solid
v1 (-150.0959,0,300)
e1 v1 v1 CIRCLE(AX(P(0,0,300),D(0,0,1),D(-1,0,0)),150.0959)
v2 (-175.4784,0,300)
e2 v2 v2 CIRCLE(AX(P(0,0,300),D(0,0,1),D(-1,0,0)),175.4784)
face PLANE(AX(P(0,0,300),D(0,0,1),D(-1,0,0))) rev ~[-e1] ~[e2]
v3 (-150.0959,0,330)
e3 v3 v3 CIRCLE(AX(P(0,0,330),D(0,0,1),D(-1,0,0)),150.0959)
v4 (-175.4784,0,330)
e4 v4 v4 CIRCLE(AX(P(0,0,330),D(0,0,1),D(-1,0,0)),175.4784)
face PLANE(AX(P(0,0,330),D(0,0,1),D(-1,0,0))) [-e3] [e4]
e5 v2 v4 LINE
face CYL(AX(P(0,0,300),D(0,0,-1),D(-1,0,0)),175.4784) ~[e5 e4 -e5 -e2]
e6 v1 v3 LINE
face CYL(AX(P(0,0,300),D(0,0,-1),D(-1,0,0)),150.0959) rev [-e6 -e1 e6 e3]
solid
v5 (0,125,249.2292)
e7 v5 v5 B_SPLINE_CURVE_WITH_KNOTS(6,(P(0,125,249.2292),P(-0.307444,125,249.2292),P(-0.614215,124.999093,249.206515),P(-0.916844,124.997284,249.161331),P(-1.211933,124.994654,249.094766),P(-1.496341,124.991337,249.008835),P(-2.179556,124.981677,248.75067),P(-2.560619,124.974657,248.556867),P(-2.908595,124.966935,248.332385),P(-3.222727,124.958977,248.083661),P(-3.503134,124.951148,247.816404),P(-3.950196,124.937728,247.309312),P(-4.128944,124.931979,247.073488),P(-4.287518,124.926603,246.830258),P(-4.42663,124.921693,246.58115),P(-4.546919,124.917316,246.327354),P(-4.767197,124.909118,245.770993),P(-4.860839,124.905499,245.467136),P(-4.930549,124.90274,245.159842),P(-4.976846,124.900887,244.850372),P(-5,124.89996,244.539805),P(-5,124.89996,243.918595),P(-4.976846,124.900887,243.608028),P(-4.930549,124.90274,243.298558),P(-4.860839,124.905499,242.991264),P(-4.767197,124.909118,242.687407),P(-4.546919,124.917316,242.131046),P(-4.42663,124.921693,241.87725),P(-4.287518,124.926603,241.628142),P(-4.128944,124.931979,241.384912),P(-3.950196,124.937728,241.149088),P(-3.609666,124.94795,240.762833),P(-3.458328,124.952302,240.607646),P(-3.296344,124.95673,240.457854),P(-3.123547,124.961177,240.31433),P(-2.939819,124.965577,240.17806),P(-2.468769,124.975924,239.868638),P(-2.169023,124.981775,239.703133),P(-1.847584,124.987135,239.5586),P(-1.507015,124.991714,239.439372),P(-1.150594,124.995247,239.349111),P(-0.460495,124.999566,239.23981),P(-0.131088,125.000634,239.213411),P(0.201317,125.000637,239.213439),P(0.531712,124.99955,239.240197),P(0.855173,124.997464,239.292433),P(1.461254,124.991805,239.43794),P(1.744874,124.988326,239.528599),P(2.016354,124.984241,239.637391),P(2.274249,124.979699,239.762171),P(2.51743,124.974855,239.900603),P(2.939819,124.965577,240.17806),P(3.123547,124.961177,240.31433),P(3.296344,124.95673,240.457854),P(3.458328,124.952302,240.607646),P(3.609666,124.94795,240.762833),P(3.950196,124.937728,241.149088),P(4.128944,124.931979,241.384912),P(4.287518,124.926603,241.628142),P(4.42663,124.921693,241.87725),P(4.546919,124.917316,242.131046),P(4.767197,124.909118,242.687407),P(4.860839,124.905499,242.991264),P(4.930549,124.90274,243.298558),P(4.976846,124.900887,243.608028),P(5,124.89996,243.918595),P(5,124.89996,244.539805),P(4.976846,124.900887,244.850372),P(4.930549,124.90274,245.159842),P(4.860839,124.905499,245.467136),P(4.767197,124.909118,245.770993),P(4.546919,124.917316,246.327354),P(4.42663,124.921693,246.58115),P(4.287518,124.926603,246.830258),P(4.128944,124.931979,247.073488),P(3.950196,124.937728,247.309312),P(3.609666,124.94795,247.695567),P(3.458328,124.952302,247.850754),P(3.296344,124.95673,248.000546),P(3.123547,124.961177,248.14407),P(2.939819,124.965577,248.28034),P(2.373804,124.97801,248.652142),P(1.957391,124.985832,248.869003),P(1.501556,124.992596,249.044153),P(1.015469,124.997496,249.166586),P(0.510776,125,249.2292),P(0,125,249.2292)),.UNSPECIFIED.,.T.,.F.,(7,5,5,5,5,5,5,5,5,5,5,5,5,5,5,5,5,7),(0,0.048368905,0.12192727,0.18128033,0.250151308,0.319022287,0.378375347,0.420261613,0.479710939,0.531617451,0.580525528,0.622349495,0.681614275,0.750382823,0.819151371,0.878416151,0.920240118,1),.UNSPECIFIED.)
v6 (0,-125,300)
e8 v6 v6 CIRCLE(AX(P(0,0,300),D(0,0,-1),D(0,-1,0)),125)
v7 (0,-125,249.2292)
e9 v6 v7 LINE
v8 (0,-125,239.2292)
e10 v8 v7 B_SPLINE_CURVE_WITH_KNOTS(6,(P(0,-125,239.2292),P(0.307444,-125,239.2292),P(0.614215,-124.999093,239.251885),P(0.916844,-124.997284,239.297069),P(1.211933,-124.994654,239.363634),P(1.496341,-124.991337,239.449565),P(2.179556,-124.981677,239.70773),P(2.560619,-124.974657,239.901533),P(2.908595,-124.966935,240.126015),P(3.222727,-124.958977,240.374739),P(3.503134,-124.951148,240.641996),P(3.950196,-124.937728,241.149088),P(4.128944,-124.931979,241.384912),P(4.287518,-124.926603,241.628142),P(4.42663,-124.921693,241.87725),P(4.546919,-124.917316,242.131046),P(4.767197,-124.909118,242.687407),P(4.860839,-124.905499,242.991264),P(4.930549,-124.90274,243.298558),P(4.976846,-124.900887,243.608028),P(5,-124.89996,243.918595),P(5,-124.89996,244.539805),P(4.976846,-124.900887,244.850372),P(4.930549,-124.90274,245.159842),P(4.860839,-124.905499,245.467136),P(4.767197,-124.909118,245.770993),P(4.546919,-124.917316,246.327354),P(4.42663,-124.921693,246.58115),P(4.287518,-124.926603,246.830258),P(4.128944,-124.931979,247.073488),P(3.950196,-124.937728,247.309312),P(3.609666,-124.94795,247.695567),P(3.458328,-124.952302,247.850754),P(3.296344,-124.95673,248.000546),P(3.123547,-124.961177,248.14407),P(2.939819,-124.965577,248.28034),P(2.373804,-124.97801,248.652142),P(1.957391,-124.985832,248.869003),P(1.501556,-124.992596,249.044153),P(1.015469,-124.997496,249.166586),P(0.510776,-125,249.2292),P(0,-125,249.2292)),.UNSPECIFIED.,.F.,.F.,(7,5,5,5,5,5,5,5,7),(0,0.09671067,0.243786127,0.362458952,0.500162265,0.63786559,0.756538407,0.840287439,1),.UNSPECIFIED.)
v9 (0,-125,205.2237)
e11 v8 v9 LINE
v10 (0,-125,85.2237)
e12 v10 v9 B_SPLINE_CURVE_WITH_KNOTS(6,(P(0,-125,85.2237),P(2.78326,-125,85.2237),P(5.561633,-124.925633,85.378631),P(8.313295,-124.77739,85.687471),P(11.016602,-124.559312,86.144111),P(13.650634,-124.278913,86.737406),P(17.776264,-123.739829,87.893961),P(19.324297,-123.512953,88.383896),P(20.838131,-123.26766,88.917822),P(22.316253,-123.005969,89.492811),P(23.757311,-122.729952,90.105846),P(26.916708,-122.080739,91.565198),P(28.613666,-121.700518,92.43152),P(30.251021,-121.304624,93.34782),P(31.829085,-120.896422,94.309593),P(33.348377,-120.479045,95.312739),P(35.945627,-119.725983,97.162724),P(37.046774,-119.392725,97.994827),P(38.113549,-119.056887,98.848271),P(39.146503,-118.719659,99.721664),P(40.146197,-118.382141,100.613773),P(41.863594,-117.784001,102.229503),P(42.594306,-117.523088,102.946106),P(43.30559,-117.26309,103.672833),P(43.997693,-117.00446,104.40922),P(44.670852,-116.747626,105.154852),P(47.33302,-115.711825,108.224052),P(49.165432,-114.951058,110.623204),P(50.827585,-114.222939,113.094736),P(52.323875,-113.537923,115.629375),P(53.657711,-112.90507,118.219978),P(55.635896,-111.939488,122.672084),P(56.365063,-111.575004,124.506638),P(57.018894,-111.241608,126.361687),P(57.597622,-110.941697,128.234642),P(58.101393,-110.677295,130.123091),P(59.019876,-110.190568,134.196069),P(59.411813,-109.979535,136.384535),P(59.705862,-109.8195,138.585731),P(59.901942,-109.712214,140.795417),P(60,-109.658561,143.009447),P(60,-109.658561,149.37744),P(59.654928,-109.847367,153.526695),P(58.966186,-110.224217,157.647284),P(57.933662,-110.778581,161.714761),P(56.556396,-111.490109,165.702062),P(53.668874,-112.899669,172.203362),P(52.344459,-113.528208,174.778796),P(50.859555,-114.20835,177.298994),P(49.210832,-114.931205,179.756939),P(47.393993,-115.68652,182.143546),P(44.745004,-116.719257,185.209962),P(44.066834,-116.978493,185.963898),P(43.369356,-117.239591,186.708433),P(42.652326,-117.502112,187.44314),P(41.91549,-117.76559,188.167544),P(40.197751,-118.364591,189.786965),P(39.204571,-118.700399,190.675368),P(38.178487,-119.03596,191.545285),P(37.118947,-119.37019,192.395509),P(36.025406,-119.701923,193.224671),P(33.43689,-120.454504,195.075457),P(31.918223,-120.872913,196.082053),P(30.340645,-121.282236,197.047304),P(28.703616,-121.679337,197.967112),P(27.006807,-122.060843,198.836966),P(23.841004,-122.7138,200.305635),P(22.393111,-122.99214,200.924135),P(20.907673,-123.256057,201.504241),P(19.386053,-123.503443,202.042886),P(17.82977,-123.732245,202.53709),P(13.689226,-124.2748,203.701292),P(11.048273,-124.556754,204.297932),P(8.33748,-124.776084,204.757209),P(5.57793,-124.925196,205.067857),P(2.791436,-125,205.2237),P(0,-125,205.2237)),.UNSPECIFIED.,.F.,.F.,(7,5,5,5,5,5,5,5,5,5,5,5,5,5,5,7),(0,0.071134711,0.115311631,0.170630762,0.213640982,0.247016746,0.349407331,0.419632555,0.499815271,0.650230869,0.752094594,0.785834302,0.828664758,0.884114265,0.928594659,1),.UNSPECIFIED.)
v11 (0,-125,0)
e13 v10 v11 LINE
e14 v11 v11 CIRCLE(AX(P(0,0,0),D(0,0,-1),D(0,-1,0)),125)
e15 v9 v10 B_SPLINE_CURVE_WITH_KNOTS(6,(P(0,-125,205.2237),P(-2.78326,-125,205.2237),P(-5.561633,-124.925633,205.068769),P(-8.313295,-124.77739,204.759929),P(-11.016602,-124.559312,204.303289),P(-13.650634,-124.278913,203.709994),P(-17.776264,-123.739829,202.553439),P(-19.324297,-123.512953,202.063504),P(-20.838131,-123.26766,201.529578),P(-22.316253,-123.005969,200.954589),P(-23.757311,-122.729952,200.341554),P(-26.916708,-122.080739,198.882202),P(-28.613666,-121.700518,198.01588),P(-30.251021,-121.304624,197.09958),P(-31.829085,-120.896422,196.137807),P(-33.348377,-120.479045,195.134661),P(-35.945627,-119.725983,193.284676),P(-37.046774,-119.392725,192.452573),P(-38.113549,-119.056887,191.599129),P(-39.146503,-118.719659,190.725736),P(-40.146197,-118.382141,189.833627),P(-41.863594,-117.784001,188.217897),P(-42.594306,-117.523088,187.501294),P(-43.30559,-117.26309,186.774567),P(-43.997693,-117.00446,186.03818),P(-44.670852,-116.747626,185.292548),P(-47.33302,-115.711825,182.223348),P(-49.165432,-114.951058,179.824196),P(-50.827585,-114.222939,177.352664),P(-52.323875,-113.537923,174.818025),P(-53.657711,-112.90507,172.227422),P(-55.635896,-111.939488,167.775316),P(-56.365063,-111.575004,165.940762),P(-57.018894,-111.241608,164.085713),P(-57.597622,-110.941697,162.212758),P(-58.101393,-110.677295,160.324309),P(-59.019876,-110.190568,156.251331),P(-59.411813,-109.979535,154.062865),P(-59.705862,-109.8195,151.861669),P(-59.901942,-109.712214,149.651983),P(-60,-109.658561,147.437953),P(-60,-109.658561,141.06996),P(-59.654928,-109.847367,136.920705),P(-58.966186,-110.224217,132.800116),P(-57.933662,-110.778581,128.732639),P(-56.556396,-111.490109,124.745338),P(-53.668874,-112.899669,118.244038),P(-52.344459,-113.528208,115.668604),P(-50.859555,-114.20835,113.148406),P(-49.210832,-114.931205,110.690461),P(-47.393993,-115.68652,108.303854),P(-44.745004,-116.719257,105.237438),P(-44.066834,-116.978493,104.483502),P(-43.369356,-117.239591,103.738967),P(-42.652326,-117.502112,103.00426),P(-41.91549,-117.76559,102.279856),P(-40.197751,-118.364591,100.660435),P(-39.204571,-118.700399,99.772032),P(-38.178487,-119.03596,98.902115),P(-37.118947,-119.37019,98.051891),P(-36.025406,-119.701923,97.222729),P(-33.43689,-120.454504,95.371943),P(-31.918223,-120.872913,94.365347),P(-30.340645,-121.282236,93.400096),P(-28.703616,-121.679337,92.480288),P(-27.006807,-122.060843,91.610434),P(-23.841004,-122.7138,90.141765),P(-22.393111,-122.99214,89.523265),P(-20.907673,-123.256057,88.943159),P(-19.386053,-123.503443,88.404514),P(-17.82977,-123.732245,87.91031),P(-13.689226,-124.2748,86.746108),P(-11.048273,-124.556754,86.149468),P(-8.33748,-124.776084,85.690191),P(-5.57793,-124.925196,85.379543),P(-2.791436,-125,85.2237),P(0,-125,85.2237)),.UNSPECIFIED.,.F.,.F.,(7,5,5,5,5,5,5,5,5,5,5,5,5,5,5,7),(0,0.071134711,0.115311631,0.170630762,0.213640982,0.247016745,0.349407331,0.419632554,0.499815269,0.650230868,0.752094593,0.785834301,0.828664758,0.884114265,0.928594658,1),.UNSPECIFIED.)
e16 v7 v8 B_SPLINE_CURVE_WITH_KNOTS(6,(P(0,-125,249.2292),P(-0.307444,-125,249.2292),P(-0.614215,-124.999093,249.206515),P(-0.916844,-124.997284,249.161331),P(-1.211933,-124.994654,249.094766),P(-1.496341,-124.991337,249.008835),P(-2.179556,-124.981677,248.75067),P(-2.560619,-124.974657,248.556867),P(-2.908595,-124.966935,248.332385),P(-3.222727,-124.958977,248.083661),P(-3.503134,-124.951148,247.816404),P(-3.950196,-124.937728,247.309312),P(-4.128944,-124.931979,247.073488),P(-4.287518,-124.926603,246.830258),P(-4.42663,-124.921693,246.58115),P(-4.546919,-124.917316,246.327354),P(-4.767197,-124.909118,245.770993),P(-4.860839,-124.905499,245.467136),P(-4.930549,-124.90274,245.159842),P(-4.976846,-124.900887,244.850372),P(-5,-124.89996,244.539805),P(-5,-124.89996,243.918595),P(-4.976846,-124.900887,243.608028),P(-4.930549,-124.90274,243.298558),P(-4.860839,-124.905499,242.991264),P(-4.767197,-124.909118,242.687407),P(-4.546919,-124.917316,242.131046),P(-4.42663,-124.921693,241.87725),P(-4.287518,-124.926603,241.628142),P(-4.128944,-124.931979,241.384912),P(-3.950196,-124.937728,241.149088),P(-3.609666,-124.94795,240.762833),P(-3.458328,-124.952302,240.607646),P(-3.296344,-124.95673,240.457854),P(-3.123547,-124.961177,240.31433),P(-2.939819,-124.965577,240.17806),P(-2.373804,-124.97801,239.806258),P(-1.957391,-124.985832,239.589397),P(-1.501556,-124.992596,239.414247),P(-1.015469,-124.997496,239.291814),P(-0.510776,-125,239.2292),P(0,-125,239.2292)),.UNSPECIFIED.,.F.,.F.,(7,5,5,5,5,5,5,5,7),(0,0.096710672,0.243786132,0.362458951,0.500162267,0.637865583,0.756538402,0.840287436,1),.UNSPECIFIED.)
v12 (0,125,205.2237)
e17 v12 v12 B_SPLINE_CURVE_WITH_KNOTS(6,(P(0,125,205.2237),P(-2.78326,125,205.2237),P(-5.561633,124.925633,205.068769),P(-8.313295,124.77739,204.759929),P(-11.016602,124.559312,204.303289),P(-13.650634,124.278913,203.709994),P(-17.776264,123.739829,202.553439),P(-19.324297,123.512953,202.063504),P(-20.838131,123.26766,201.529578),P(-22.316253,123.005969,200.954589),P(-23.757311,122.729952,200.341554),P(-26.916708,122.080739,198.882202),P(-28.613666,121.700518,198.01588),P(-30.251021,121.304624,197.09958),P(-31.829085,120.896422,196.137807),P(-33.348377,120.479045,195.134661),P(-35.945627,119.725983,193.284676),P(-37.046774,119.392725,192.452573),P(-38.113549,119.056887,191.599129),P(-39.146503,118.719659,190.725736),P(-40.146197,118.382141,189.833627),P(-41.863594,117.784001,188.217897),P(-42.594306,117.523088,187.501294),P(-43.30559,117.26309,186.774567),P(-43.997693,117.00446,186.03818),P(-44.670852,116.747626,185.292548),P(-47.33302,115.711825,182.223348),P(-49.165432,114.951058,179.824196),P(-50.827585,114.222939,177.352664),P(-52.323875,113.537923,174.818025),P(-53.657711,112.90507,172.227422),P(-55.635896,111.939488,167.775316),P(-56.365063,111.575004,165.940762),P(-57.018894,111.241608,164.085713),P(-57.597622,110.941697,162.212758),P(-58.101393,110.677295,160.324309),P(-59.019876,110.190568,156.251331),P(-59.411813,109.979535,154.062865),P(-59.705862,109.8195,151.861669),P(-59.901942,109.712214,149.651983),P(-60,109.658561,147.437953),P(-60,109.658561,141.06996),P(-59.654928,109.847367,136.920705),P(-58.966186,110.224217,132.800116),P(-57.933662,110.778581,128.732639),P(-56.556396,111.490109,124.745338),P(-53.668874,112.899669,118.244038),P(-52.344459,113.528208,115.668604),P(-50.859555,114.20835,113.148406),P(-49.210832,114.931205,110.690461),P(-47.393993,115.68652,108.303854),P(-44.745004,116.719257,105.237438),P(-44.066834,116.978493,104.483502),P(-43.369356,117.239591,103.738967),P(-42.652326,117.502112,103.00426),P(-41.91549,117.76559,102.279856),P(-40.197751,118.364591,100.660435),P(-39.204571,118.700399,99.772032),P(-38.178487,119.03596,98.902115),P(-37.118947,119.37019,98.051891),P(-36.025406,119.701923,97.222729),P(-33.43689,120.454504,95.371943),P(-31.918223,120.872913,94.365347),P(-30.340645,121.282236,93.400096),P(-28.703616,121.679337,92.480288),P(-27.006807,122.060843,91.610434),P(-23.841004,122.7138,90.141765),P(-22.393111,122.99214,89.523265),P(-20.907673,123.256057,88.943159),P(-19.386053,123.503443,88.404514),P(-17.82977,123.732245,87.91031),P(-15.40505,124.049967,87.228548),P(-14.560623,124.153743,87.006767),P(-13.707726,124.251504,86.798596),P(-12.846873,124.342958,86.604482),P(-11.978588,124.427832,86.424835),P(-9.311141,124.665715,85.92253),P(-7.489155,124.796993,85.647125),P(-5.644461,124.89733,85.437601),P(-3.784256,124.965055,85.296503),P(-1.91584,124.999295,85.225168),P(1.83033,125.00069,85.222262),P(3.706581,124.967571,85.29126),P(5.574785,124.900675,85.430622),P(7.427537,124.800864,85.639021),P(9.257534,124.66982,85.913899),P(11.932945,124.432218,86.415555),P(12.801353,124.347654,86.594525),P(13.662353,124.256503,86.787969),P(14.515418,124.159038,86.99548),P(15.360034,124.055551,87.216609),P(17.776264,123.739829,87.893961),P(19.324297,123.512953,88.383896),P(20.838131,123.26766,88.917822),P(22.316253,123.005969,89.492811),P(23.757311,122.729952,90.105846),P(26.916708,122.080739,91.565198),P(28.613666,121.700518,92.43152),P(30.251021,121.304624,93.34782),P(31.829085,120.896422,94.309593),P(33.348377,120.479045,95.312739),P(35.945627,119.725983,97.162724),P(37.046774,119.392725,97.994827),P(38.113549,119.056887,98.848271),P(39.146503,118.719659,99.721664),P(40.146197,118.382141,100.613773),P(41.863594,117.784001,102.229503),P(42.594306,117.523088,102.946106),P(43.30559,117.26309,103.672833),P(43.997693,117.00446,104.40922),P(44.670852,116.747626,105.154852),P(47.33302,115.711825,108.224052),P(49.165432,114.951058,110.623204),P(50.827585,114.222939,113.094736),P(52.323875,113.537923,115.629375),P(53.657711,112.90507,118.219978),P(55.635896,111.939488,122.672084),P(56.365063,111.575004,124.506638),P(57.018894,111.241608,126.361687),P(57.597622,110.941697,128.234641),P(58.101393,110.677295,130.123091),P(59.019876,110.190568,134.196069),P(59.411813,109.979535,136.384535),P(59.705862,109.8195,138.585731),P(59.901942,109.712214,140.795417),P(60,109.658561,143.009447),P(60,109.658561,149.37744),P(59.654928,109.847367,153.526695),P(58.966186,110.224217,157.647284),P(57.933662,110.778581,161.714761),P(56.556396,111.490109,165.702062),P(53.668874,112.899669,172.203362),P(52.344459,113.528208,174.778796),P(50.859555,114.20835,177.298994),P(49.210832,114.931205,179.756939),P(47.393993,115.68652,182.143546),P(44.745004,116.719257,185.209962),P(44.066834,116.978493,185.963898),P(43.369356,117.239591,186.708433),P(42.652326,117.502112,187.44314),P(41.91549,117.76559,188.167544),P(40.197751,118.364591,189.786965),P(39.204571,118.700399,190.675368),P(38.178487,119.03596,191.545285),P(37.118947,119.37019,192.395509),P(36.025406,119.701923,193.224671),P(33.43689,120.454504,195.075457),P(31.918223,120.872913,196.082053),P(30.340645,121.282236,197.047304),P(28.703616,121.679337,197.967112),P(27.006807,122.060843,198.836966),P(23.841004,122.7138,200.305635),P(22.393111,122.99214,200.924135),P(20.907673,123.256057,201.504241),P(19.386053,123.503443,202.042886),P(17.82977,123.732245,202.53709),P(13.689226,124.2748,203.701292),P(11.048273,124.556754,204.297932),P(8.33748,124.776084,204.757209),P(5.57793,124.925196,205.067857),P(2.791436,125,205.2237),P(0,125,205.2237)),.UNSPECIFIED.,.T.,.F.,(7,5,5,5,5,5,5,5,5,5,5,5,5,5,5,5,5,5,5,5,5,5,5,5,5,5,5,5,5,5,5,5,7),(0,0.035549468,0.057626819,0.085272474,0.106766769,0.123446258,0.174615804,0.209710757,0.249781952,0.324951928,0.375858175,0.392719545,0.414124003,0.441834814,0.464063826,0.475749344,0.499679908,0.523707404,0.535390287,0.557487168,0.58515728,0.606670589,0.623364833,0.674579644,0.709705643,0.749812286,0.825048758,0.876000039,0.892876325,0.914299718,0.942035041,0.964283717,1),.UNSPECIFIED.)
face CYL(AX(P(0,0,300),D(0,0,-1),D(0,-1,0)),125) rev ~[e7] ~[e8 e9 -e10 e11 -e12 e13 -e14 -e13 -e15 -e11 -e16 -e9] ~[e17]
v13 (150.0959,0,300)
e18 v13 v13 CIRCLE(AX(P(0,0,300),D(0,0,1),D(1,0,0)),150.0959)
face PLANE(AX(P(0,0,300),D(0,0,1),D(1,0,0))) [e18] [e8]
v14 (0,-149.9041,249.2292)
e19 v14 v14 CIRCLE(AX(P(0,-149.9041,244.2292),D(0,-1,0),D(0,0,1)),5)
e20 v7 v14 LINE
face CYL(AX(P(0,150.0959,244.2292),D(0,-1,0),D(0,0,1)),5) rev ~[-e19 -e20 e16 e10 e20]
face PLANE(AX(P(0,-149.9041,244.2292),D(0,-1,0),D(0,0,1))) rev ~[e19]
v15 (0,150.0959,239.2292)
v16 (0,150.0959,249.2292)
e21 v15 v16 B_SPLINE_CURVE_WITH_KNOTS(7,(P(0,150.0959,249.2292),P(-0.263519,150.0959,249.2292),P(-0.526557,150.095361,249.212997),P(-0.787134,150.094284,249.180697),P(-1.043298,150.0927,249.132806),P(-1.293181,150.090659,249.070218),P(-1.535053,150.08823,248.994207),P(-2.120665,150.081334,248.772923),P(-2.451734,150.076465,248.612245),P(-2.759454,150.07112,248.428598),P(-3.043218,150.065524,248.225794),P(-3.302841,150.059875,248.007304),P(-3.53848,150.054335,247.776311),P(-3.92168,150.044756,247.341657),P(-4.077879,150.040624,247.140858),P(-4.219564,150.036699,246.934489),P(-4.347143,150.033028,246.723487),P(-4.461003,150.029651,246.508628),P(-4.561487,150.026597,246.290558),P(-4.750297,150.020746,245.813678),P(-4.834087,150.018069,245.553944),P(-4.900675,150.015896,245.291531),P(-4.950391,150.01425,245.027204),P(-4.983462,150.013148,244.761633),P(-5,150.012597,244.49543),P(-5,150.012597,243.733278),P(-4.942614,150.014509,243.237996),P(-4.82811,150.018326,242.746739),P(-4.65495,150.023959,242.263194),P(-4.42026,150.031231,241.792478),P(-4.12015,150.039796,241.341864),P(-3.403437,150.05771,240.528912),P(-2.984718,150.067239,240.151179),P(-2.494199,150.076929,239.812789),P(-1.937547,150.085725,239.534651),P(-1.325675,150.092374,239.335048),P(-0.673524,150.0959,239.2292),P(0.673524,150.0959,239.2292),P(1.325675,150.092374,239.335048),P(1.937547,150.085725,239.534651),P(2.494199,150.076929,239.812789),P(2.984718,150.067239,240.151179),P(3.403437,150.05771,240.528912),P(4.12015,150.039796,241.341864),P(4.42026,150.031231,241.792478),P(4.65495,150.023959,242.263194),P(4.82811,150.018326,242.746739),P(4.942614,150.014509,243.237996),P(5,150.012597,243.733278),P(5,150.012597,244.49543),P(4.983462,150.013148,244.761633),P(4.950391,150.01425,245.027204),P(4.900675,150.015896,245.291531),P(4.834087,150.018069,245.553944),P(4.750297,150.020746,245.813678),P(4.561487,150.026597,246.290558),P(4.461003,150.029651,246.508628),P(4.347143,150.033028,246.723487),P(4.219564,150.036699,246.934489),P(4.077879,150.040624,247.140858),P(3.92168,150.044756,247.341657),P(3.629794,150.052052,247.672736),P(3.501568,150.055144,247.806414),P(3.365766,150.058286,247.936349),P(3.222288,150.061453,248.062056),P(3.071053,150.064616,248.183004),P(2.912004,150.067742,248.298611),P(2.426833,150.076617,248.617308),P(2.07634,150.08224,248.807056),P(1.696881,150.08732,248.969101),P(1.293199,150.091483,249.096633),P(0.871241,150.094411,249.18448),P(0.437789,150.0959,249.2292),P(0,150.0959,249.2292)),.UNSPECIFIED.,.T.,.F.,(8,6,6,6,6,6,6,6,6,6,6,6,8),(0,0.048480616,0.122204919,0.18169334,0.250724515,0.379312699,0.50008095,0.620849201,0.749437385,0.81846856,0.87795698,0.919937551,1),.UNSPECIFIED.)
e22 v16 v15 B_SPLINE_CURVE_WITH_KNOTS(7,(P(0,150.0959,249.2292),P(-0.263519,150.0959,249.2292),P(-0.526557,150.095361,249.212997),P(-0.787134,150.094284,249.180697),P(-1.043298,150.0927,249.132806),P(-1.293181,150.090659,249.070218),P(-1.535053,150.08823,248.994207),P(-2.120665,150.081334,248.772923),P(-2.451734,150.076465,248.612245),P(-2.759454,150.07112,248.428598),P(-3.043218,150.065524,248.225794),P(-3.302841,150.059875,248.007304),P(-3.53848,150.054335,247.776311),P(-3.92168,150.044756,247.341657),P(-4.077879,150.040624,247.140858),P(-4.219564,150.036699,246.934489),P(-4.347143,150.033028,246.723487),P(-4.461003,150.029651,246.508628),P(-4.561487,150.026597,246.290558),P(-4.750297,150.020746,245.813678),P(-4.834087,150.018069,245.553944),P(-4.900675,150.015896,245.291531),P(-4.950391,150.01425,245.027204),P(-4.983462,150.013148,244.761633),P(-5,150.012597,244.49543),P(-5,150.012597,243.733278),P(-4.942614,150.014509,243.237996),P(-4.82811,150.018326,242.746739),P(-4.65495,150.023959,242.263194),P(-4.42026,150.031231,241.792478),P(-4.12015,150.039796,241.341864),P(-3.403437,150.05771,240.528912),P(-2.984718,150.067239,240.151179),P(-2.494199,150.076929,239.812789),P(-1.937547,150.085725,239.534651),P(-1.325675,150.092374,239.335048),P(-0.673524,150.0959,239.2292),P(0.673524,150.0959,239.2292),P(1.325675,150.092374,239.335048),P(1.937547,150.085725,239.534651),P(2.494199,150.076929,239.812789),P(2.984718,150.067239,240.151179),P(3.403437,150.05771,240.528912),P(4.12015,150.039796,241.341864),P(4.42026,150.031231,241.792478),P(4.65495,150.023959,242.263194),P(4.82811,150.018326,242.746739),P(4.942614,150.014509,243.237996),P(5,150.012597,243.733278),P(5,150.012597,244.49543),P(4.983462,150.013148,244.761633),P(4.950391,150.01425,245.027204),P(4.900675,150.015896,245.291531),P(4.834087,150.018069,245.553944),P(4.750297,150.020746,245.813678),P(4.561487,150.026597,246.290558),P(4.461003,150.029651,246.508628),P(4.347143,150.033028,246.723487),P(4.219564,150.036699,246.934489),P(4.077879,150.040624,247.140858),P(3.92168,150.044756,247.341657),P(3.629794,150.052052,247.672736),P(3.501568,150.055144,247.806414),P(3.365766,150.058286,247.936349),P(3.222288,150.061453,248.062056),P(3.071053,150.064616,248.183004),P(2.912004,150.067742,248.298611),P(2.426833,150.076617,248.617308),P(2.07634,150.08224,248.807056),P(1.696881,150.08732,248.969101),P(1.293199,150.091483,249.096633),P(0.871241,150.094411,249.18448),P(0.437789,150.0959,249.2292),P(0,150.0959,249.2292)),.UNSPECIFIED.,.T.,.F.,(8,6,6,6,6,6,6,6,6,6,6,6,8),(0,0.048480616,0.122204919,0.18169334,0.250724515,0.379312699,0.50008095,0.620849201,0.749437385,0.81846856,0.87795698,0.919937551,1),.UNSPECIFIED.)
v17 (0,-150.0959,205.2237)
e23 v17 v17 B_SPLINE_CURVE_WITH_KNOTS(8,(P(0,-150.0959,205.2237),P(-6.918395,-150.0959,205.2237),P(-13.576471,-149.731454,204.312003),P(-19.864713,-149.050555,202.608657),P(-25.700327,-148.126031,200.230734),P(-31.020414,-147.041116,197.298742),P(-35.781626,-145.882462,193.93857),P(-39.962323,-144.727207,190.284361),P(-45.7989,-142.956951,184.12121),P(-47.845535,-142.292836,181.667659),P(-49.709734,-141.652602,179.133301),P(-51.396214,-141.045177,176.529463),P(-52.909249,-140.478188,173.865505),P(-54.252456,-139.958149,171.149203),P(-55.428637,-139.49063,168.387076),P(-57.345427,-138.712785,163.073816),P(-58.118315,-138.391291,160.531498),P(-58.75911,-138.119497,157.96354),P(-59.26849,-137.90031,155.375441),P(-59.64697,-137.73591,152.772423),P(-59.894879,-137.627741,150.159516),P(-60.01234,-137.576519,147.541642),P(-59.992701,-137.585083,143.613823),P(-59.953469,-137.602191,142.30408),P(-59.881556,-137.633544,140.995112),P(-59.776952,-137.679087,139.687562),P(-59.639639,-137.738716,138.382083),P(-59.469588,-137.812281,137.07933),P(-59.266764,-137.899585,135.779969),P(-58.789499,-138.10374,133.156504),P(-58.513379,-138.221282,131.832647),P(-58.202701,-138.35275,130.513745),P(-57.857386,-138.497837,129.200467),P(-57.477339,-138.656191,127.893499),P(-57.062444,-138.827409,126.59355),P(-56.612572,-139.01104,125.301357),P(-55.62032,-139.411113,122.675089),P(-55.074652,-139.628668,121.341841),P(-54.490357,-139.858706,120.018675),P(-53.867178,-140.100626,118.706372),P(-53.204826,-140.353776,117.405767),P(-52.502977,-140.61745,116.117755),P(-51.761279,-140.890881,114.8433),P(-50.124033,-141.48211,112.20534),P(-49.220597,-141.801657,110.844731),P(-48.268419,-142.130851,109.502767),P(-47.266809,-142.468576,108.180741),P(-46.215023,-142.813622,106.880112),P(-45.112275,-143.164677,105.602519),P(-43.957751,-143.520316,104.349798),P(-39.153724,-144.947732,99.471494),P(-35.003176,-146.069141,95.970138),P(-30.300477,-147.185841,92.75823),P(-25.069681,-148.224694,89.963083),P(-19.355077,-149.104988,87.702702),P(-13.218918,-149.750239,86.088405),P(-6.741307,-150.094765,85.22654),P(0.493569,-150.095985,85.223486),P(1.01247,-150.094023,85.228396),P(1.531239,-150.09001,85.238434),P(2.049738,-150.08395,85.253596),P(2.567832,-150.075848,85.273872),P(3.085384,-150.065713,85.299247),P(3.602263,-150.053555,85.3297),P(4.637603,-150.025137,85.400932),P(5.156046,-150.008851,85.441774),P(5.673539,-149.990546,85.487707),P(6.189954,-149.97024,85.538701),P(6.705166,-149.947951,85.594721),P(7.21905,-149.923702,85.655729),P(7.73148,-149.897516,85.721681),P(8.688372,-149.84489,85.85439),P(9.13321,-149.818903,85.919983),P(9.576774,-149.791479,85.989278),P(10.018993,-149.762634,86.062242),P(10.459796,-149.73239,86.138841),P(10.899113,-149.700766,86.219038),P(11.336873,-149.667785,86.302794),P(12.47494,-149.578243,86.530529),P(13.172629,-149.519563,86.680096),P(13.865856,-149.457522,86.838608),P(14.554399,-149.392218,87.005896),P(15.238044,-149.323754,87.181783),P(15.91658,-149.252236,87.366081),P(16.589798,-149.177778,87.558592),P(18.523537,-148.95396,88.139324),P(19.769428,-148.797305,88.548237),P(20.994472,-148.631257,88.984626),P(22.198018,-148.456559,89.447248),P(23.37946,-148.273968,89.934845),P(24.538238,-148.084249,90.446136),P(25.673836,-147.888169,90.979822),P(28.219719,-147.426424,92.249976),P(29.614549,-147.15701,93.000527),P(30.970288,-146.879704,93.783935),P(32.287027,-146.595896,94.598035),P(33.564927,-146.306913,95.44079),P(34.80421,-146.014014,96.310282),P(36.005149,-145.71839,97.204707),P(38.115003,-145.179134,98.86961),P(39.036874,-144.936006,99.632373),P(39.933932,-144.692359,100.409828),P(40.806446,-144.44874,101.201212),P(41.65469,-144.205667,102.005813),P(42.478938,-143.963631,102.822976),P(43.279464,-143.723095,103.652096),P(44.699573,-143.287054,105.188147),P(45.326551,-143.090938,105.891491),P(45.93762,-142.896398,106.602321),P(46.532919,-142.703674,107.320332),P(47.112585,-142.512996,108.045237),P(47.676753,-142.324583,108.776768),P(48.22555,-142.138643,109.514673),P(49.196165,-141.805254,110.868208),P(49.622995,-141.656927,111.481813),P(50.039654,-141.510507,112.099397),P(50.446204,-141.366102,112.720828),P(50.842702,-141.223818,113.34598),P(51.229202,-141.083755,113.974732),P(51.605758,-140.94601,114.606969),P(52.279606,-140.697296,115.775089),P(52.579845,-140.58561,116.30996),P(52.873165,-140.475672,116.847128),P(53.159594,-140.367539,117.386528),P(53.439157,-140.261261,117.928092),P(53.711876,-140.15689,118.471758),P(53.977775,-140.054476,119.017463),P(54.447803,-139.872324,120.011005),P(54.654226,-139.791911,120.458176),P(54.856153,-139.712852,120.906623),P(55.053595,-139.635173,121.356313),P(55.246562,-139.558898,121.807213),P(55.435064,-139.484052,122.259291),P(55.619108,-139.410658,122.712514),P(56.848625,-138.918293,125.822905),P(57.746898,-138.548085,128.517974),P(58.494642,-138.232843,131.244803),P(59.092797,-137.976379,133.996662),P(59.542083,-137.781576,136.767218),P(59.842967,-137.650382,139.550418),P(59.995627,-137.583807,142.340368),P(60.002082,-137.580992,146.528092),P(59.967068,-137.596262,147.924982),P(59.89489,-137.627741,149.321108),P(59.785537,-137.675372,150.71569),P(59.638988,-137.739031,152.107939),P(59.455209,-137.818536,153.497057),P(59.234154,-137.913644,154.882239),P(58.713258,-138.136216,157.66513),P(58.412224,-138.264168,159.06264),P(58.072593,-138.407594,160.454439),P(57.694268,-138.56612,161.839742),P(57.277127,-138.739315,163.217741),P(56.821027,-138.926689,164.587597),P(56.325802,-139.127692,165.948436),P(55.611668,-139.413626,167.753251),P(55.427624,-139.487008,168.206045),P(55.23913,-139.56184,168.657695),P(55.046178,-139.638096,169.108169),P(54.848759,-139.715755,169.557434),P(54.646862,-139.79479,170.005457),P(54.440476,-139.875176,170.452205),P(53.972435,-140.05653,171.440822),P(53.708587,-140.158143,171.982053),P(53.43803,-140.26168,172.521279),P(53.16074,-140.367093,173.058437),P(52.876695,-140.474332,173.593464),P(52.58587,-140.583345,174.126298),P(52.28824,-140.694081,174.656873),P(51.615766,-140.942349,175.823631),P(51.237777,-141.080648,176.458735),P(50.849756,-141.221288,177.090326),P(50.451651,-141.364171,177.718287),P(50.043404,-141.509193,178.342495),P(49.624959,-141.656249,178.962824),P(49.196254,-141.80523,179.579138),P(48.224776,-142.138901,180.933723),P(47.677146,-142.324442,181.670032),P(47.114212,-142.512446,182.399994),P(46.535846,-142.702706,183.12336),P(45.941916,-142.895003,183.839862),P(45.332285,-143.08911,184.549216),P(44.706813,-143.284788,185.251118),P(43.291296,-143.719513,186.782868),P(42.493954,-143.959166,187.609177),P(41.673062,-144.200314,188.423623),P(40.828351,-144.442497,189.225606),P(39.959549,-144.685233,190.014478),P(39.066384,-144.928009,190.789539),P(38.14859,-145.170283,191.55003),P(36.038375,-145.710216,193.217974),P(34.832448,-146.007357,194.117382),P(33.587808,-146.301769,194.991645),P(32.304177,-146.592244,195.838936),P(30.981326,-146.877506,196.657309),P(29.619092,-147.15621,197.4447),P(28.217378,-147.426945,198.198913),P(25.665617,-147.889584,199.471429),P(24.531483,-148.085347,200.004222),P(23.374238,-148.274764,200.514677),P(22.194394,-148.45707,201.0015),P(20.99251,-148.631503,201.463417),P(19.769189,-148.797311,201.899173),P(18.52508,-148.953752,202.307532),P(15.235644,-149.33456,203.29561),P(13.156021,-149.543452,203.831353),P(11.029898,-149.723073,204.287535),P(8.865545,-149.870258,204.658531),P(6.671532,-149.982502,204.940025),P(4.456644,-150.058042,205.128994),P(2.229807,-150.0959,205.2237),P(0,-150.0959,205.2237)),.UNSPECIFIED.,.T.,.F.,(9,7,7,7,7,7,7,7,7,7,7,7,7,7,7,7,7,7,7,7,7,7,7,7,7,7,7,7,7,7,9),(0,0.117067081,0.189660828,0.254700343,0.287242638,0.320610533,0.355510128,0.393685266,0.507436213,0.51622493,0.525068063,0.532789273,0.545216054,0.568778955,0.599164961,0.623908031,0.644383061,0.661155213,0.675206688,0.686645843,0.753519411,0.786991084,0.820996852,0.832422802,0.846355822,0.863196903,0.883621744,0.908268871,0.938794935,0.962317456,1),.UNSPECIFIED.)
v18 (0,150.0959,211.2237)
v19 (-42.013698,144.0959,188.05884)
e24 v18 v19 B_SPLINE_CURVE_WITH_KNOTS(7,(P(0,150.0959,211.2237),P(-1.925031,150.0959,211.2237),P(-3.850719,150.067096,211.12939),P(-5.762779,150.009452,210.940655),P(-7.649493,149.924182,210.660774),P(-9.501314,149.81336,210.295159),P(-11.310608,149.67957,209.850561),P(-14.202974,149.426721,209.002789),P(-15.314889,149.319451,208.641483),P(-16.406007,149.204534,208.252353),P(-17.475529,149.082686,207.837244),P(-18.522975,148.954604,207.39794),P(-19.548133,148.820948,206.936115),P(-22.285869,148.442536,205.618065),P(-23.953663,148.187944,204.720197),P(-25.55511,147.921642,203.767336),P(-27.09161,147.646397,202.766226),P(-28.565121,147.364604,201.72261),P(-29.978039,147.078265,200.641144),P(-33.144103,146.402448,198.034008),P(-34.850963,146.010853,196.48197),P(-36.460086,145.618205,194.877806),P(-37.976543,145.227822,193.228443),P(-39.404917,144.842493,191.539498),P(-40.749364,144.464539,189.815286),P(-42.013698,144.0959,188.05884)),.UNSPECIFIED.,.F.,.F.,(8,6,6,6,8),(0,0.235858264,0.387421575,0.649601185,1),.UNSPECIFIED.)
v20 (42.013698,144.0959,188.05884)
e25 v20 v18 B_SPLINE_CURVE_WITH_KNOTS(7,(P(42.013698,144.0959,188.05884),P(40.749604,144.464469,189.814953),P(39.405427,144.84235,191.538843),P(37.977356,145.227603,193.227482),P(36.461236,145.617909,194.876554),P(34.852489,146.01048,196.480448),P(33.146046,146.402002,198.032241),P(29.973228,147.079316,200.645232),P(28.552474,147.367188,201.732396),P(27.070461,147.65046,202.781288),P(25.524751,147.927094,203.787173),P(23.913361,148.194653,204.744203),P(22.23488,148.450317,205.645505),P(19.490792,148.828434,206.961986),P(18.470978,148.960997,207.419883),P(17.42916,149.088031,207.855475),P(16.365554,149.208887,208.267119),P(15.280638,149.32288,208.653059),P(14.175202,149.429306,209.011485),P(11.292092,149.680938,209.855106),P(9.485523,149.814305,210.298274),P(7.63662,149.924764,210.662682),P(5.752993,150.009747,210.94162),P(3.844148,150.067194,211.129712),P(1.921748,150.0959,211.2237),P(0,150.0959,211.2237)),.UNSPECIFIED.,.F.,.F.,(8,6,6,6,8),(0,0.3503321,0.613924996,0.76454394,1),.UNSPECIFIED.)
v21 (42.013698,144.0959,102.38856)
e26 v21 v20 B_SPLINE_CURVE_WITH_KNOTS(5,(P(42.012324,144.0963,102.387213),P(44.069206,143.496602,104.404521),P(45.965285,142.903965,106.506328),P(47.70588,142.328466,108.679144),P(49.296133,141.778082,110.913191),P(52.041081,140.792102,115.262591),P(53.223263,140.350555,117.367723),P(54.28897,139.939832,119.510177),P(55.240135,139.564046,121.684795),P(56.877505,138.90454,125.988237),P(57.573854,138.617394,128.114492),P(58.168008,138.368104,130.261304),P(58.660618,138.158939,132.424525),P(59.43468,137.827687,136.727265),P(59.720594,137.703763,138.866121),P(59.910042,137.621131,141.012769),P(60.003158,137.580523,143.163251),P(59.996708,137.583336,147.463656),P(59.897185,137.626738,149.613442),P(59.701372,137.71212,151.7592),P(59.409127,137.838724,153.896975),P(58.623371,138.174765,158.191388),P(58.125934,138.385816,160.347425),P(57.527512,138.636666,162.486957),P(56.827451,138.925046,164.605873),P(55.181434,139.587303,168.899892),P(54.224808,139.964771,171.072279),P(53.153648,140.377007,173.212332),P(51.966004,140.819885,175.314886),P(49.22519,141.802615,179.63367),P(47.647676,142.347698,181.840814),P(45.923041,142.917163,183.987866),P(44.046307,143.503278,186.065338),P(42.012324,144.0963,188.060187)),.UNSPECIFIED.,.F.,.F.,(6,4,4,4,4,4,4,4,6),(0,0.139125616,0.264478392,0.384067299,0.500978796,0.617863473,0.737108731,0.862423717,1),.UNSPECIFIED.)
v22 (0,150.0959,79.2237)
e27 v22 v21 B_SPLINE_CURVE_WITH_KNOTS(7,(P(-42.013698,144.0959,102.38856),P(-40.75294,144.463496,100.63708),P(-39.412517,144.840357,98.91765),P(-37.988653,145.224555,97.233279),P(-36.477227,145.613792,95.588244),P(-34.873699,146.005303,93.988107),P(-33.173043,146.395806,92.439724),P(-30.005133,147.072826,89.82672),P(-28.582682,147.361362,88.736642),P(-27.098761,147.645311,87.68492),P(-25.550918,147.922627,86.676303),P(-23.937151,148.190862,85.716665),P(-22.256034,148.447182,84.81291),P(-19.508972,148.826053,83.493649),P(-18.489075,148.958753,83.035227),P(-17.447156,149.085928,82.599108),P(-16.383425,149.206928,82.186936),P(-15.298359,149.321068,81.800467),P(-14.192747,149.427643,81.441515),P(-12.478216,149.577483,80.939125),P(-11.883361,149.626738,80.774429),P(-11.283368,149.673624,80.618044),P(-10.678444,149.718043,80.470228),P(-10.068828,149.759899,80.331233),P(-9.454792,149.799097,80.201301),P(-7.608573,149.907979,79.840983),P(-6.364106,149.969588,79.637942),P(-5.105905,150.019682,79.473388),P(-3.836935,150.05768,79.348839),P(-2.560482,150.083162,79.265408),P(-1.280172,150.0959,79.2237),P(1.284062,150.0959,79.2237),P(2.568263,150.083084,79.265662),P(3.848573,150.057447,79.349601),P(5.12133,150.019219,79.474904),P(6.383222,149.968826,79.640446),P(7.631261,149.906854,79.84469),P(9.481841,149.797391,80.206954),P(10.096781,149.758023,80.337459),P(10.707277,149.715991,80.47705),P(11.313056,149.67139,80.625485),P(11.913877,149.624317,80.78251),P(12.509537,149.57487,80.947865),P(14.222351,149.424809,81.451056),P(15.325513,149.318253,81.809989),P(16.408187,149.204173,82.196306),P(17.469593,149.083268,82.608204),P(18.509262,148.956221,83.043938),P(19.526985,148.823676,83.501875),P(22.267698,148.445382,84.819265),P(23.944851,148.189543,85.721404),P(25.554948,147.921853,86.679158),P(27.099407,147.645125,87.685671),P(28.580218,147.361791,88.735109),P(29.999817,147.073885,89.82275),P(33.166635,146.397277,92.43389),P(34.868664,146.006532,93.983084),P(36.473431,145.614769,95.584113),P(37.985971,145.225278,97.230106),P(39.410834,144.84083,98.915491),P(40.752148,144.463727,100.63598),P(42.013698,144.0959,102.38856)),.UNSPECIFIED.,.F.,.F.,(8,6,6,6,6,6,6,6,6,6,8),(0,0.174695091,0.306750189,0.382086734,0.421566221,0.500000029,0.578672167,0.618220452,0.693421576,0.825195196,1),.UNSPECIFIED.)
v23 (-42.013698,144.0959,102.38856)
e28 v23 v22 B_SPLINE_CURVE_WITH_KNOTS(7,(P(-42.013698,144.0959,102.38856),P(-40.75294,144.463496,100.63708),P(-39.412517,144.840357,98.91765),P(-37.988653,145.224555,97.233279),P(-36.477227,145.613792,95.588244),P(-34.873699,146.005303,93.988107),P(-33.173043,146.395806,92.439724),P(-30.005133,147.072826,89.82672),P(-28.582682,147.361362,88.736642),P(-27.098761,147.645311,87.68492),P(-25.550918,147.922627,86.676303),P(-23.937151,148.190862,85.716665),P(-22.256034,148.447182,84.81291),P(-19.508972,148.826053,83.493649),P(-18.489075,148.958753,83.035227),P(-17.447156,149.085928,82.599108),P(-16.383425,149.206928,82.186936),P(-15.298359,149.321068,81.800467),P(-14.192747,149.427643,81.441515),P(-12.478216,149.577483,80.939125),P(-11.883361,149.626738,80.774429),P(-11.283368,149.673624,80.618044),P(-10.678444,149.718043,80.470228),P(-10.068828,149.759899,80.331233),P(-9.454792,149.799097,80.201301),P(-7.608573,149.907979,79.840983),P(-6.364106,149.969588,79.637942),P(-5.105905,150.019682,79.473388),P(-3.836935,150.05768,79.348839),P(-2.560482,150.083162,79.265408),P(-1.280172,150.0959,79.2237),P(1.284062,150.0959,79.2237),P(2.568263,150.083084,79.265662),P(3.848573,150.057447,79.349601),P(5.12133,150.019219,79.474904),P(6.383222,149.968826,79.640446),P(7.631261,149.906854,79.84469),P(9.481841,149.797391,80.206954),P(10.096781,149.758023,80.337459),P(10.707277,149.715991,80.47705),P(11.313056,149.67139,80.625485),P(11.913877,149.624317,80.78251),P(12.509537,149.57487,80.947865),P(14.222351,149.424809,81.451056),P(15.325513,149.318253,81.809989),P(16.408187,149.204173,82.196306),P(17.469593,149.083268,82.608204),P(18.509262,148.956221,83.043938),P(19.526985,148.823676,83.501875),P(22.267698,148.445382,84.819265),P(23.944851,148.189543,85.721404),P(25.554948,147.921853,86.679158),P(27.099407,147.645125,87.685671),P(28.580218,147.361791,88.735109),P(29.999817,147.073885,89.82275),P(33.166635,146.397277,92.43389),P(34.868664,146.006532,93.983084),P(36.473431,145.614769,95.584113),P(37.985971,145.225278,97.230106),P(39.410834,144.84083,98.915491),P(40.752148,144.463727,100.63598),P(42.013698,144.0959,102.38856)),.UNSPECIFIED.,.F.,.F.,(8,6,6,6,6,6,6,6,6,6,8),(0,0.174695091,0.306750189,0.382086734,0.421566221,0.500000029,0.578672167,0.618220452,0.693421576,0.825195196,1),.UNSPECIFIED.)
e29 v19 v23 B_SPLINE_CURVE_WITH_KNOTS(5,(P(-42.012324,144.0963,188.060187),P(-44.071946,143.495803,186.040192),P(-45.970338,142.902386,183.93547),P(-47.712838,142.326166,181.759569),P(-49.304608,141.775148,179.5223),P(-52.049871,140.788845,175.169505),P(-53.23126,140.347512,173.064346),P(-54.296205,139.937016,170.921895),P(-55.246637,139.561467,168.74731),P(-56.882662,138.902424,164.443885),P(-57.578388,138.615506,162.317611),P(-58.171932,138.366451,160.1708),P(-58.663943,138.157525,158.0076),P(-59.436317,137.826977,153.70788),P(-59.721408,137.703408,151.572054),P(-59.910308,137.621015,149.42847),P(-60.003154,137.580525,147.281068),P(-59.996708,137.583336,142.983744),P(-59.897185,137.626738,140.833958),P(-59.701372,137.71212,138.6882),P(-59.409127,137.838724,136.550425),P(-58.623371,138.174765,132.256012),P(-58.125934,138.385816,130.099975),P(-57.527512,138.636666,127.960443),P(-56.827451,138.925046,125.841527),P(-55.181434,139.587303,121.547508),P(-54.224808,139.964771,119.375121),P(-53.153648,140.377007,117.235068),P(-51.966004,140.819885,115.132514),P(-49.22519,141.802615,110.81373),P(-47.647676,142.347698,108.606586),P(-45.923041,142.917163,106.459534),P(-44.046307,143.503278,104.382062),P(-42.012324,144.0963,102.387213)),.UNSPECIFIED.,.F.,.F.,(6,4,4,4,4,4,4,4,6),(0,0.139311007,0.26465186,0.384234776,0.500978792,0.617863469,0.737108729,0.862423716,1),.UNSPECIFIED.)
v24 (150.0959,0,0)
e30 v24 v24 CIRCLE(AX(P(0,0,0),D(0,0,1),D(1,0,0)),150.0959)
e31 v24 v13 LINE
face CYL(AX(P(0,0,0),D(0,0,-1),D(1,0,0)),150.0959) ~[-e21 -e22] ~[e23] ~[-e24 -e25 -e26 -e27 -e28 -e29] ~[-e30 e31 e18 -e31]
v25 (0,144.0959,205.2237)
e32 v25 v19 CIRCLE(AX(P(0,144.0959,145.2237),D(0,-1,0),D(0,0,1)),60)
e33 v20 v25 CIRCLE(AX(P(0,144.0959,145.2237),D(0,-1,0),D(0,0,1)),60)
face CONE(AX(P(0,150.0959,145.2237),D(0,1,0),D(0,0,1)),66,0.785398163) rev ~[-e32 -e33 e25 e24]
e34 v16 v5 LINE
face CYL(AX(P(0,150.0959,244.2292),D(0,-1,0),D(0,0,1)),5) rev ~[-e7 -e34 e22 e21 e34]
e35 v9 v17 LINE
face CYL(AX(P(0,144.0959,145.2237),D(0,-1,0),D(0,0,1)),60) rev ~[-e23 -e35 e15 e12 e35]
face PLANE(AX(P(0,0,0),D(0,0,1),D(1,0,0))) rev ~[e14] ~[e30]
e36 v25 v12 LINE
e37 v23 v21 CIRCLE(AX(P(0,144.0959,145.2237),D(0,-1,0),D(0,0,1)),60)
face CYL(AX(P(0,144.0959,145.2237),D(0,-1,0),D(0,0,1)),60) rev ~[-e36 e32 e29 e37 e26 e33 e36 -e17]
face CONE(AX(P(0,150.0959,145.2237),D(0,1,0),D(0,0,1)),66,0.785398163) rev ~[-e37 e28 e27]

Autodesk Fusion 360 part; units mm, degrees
sketch "Sketch1" plane through (0, 0, 0) normal (0, 0, 1) x (1, 0, 0)
  circle A0 centre (0, 0) radius 150.0959
extrude "Extrude1" add sketch "Sketch1" along normal blind 300 makes body 1
hole "Hole1" at (0, 150.0959, 145.2237) direction (0, -1, 0) diameter 120 depth 340 tip angle 180 countersink diameter 132 countersink angle 90 bodies 1
hole "Hole2" at (0, 0, 300) direction (0, 0, -1) diameter 250 depth 300 tip angle 180 bodies 1
hole "Hole3" at (0, 150.0959, 244.2292) direction (0, -1, 0) diameter 10 depth 300 tip angle 180 bodies 1
sketch "Sketch2" plane through (0, 0, 300) normal (0, 0, 1) x (-1, 0, 0)
  circle A0 centre (0, 0) radius 125
  circle A1 centre (0, 0) radius 150.0959
  circle A2 centre (0, 0) radius 175.4784
extrude "Extrude2" add sketch "Sketch2" along normal blind 30 separate body contours A2 makes body 2
